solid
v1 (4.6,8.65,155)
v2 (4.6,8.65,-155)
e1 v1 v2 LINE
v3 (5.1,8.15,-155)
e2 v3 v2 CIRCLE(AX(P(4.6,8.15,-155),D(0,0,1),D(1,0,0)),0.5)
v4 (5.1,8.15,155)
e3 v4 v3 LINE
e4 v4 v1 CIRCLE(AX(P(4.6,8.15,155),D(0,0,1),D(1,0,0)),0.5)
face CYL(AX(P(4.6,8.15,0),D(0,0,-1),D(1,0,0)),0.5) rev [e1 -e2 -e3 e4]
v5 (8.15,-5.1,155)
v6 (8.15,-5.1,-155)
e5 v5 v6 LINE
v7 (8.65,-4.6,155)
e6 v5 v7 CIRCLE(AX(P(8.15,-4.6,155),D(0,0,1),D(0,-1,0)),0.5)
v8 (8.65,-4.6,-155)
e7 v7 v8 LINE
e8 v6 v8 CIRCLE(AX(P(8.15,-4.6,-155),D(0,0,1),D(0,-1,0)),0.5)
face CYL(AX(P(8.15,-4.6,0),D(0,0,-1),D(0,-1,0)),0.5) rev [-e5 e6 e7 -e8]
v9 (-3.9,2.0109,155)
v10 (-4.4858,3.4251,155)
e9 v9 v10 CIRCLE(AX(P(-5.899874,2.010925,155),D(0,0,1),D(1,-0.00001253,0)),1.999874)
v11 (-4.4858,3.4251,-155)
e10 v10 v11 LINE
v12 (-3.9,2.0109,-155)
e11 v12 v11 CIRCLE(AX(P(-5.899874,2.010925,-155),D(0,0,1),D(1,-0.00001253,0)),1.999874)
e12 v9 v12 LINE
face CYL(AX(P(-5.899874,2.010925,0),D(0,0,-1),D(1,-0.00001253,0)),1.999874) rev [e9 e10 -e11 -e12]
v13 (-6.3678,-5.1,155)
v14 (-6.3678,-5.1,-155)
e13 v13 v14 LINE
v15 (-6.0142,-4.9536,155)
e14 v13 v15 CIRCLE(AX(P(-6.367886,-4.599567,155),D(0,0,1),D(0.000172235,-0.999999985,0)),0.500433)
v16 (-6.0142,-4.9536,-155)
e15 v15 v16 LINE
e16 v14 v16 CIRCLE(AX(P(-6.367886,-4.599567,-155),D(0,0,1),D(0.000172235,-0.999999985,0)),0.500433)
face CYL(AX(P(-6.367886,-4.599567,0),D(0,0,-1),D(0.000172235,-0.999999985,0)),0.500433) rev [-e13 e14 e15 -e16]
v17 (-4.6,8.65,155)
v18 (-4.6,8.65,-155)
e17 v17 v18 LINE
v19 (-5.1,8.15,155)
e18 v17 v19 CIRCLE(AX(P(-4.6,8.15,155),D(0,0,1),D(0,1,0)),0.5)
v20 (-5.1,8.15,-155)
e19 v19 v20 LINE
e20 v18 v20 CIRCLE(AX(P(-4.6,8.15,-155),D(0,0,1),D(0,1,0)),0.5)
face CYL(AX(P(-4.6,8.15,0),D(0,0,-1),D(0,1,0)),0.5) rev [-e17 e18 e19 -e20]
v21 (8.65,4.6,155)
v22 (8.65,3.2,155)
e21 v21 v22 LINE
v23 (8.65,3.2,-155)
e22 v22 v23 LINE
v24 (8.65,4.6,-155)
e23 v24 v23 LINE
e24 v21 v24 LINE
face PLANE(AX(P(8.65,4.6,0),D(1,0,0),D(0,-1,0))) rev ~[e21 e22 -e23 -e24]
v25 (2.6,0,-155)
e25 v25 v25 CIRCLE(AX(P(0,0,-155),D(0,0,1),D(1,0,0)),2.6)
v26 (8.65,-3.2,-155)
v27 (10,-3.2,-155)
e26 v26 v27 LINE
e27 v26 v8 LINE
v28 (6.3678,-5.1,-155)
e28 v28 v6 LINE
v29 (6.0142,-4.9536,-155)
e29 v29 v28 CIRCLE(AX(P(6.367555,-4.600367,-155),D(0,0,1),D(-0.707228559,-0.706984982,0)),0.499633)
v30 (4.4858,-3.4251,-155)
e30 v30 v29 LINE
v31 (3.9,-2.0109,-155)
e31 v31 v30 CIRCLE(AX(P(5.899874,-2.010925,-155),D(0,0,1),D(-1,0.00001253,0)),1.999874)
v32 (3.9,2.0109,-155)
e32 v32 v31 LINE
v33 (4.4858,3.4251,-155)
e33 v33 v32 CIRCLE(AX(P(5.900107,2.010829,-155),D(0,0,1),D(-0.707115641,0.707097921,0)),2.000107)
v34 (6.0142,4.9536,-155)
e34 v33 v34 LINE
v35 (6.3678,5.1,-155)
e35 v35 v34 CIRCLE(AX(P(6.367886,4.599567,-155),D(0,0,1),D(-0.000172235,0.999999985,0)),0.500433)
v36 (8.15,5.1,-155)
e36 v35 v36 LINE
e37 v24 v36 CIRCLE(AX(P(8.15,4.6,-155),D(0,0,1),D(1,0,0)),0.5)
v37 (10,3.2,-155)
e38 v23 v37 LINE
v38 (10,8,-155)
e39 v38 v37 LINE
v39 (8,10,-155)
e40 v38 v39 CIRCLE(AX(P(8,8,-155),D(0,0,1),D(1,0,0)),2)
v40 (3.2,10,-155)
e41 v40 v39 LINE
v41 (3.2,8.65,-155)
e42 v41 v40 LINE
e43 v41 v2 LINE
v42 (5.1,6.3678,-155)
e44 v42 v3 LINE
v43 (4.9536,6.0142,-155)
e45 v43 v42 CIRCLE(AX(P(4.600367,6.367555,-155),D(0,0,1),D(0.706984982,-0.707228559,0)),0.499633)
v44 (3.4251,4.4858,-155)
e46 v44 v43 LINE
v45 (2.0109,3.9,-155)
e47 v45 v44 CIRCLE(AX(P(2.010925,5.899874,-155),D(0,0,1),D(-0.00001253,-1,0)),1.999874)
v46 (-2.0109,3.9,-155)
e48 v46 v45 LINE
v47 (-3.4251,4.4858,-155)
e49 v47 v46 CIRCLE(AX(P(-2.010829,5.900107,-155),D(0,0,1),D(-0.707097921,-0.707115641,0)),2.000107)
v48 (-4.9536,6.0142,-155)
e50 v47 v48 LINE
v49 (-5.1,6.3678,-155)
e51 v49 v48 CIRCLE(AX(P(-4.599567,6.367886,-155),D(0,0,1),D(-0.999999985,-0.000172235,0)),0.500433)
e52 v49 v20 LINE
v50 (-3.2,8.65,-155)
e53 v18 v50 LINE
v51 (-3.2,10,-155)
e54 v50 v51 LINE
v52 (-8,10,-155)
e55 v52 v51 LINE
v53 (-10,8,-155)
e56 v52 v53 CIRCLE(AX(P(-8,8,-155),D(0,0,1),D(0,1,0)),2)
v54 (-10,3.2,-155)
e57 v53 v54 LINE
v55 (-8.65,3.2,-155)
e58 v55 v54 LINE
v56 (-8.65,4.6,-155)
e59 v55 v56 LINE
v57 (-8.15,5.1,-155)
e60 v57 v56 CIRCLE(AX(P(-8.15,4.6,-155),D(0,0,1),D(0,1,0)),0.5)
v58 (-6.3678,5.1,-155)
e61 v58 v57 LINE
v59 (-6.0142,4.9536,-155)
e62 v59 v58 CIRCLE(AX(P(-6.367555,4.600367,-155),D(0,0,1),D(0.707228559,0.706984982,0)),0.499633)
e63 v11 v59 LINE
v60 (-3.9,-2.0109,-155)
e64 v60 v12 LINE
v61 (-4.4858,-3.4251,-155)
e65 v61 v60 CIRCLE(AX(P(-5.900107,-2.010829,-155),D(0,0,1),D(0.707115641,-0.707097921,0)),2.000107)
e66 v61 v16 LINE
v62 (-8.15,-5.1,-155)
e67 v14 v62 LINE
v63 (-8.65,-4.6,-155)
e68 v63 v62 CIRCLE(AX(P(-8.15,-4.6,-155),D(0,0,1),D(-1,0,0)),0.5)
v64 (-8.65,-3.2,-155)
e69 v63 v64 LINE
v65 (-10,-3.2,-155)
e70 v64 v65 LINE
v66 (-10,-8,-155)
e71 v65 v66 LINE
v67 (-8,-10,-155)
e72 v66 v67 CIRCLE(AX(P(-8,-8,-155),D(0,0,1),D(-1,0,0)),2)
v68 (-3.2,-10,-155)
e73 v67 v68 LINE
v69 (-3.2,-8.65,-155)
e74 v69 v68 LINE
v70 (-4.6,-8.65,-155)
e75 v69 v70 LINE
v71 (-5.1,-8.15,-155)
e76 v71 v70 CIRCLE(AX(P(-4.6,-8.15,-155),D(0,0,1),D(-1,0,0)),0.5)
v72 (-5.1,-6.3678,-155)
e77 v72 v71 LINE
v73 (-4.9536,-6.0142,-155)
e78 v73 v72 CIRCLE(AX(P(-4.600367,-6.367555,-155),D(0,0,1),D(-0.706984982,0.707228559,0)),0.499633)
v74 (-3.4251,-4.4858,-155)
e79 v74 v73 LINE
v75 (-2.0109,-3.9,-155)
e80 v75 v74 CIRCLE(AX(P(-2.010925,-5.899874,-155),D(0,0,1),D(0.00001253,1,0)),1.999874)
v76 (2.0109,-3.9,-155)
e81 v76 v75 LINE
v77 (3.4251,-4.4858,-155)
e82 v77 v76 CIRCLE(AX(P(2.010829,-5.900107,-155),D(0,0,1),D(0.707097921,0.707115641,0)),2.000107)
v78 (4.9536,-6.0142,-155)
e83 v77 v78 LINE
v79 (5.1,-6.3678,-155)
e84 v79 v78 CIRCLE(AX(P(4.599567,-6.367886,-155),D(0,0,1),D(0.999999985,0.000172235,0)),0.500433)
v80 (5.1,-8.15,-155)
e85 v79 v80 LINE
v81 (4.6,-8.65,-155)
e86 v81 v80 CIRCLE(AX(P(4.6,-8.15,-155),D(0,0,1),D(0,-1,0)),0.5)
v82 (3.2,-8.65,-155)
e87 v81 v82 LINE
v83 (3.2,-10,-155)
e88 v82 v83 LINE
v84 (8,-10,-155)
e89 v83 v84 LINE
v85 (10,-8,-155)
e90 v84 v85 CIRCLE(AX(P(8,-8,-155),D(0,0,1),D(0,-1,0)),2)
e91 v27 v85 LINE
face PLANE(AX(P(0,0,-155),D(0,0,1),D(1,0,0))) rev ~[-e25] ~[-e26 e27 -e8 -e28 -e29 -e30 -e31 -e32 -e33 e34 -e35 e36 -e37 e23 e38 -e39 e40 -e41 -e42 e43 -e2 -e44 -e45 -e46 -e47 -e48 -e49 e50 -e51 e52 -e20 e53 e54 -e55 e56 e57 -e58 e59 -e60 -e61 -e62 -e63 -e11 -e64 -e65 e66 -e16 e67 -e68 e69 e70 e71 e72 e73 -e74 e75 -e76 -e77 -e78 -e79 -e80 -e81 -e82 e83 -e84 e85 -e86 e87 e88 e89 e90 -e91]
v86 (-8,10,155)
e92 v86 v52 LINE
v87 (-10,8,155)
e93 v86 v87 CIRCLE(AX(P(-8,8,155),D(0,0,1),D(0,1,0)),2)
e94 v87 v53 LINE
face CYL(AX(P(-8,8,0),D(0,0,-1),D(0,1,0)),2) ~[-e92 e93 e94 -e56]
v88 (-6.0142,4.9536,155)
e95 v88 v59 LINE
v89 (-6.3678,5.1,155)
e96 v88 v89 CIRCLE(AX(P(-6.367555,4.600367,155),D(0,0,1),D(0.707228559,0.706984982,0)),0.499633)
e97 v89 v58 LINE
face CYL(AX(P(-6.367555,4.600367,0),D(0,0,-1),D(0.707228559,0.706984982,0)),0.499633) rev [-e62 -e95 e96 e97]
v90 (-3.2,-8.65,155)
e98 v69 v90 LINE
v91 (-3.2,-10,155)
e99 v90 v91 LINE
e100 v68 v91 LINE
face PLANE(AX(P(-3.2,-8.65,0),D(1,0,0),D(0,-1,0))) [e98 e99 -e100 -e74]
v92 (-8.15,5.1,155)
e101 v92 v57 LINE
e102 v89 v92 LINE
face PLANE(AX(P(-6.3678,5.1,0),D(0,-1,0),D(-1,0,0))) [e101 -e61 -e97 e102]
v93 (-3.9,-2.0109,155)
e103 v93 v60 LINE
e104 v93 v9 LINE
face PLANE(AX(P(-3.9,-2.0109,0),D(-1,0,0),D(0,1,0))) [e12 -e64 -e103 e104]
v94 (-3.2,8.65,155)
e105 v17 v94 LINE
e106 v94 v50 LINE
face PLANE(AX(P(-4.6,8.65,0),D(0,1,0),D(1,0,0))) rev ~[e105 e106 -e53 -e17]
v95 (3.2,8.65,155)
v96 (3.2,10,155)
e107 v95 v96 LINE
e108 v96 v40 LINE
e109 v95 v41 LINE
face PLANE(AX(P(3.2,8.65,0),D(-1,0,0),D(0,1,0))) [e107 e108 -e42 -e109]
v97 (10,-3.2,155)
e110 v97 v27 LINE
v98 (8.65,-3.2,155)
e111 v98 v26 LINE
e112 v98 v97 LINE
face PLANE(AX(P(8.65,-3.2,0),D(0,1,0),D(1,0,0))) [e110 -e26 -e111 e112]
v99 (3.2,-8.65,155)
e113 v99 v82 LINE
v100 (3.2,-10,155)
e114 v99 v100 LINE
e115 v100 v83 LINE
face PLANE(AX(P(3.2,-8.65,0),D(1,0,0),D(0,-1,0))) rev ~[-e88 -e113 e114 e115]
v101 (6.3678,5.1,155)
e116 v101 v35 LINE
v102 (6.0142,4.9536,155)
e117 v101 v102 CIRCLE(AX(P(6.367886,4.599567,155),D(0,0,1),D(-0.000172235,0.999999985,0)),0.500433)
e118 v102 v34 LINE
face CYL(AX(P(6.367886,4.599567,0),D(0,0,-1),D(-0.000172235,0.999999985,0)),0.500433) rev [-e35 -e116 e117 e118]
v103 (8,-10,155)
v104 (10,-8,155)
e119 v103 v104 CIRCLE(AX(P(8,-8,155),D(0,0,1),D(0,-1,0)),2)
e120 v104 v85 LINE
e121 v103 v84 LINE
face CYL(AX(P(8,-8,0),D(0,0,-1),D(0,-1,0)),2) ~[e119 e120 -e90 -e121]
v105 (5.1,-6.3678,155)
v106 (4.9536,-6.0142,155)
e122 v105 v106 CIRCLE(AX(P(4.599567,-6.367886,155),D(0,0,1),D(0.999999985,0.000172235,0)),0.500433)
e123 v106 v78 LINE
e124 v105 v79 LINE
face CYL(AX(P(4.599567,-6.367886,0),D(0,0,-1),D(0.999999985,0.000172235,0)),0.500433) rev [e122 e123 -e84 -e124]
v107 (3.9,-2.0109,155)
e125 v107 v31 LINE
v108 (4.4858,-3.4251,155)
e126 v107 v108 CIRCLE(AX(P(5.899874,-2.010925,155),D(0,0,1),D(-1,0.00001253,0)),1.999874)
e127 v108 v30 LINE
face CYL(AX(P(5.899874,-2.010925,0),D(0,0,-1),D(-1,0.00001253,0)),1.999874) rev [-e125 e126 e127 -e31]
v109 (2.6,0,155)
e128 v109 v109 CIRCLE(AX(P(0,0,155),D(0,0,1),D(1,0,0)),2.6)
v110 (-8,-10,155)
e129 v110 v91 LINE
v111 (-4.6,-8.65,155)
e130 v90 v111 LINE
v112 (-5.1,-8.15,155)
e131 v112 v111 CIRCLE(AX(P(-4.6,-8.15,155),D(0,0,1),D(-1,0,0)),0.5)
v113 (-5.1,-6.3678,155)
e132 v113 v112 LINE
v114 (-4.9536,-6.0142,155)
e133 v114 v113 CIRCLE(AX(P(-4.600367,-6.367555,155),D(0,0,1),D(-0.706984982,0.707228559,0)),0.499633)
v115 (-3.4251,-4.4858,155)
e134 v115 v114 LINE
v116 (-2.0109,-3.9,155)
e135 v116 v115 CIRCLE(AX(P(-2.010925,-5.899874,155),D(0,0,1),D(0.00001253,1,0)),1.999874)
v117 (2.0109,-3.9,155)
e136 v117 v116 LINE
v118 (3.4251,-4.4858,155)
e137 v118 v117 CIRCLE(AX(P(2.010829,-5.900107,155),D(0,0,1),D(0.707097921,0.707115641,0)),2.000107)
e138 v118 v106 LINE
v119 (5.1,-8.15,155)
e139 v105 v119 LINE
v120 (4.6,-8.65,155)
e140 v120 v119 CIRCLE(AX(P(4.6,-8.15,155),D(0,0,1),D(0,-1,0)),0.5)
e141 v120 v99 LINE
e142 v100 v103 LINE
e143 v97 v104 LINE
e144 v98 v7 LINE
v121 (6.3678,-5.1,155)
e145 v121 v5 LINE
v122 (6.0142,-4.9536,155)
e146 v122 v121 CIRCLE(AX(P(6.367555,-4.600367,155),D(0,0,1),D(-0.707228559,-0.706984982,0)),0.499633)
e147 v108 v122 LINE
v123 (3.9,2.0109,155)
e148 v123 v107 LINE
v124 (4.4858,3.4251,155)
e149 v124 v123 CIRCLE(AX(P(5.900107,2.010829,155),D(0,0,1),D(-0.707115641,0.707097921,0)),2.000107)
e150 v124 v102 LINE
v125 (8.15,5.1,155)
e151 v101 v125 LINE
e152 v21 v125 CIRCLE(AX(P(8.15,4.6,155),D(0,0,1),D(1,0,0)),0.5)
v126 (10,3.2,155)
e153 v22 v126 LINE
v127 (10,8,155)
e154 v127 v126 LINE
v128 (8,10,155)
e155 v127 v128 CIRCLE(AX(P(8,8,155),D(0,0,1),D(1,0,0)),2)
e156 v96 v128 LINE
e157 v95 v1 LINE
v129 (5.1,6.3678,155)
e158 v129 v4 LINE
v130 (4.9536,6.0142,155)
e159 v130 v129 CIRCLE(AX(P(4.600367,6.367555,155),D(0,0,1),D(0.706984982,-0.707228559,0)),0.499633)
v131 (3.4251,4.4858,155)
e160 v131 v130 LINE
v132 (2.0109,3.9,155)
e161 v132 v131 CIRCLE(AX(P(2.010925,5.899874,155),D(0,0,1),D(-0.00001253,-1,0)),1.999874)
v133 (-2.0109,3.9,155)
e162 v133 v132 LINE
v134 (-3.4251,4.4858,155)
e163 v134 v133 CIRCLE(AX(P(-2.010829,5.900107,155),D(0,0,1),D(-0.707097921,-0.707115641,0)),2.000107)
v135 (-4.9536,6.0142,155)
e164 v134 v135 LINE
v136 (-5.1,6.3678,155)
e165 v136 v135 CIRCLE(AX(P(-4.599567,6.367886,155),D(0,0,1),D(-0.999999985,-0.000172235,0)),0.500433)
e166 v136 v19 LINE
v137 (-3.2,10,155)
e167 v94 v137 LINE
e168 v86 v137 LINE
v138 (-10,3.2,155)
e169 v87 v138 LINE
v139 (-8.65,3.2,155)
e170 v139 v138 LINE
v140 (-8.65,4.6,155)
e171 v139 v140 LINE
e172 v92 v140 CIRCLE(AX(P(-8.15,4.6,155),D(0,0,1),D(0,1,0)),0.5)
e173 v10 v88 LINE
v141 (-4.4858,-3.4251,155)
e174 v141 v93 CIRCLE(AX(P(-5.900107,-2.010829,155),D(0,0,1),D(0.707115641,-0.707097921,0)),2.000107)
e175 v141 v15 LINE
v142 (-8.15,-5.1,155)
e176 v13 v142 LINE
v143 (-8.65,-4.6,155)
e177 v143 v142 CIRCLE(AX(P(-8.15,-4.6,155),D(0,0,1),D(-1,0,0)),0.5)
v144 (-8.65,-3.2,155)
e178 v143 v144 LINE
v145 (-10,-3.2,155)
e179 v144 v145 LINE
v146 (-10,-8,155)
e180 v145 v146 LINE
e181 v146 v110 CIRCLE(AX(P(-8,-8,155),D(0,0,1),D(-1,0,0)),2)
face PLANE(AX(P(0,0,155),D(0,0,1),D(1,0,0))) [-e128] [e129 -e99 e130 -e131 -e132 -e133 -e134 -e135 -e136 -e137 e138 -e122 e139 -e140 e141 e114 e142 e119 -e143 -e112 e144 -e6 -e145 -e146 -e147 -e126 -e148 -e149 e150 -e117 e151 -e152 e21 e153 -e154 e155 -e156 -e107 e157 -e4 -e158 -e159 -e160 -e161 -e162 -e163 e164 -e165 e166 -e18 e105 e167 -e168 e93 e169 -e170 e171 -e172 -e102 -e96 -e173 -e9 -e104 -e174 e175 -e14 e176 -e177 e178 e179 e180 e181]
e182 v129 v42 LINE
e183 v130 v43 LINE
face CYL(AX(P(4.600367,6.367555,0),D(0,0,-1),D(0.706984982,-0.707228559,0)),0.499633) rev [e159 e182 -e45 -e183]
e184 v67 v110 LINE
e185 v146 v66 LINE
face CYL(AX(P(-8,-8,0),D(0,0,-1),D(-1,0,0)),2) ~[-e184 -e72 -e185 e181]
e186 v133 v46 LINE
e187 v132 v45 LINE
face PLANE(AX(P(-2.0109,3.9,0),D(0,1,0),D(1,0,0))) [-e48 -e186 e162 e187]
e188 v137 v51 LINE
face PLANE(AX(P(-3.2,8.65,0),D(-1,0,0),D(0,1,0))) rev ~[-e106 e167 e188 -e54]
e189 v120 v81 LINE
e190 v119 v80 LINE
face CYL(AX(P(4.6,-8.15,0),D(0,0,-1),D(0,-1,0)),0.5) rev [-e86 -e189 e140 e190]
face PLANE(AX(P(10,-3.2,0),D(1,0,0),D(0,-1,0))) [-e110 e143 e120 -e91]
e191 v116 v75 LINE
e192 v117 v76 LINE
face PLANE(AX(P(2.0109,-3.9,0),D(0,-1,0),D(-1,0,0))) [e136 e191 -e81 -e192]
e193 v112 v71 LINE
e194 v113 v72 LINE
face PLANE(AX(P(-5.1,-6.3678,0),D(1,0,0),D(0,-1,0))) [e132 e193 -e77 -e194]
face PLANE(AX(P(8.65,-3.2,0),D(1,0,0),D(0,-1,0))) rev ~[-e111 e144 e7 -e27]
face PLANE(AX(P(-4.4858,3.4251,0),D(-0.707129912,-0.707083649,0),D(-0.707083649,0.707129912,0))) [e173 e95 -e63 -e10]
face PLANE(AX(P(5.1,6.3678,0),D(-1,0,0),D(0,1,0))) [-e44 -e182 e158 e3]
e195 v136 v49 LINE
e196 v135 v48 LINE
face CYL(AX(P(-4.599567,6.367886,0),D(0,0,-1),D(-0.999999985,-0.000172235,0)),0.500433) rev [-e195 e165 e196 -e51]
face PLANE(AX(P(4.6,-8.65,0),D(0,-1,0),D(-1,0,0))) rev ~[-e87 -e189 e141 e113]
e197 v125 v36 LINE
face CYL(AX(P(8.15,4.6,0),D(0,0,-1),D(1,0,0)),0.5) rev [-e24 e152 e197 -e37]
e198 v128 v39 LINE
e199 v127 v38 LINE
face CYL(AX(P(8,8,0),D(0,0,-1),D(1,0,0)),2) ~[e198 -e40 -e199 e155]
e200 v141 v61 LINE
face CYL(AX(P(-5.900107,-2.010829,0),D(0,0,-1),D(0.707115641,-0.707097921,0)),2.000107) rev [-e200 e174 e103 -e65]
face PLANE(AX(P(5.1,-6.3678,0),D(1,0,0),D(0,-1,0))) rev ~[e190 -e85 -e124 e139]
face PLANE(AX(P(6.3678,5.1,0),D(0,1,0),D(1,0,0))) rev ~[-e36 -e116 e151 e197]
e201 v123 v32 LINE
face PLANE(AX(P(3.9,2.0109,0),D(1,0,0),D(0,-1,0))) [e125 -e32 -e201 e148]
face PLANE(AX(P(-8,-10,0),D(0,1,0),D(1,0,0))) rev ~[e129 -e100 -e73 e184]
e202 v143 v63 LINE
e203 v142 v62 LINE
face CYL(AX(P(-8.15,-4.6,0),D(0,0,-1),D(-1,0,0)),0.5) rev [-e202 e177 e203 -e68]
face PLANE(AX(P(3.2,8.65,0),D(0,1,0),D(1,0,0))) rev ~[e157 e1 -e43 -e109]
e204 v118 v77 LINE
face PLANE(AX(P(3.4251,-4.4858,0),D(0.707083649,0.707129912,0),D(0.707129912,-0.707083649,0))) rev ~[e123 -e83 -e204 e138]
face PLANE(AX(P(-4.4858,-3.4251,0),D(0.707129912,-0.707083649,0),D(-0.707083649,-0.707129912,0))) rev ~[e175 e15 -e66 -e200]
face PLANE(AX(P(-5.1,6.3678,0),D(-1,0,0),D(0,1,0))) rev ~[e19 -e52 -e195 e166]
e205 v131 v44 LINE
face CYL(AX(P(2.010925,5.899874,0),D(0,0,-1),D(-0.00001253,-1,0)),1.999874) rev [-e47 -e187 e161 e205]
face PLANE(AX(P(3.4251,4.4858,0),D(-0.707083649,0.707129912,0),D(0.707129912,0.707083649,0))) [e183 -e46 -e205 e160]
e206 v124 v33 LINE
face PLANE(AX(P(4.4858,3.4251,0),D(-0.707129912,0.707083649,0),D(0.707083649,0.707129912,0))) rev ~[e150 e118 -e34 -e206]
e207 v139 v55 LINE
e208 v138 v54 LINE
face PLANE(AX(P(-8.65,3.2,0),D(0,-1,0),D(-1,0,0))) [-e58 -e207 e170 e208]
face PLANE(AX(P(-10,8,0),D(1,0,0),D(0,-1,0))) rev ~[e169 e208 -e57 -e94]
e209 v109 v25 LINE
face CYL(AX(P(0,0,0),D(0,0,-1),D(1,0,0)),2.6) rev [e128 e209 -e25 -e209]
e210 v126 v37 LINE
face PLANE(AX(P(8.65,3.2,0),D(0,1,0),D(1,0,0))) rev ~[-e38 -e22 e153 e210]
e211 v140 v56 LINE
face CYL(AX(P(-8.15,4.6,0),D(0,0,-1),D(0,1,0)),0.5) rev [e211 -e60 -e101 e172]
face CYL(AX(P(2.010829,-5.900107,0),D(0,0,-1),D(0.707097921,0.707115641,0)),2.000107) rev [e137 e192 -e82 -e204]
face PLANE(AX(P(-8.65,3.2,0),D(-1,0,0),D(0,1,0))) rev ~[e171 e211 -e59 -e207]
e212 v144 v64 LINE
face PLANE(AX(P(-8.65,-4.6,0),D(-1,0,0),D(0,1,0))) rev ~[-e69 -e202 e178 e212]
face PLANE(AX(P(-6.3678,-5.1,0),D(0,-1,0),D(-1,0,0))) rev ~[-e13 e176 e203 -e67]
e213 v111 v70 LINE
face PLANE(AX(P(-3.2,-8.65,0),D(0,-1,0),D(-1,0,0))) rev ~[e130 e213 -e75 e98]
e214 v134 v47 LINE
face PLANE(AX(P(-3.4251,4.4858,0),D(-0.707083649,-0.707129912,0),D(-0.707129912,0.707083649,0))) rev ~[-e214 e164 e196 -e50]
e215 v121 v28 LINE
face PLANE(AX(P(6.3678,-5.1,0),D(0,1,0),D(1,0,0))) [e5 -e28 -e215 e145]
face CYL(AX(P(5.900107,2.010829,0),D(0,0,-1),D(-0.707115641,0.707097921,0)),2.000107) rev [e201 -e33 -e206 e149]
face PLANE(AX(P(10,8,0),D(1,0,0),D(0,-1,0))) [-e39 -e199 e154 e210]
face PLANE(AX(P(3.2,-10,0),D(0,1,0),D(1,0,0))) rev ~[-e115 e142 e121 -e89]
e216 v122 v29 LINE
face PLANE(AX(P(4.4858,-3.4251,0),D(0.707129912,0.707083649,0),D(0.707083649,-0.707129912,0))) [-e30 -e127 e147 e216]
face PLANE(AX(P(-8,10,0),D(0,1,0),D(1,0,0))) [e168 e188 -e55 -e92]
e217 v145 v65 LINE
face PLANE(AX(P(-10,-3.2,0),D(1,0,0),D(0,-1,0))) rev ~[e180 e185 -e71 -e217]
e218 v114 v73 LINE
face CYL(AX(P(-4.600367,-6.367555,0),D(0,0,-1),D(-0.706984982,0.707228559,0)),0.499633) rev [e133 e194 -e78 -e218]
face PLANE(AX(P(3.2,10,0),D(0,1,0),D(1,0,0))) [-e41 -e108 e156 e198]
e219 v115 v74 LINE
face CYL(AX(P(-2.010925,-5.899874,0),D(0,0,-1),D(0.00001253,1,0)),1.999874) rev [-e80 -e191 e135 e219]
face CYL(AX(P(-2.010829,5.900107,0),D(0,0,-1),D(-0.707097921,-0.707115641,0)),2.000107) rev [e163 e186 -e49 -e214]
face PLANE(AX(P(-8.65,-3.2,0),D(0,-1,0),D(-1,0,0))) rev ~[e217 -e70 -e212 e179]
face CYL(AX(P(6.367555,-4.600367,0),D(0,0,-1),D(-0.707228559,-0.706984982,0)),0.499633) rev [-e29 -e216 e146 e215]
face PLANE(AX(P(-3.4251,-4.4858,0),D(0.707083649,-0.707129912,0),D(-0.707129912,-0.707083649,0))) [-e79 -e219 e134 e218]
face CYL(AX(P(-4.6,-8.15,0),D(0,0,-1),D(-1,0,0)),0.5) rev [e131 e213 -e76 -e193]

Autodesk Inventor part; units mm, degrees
ref_plane "YZ Plane" through (0, 0, 0) normal (1, 0, 0) x (0, 1, 0)
ref_plane "XZ Plane" through (0, 0, 0) normal (0, 1, 0) x (-1, 0, 0)
ref_plane "XY Plane" through (0, 0, 0) normal (0, 0, 1) x (1, 0, 0)
sketch "Sketch1" plane through (0, 0, 0) normal (0, 0, 1) x (1, 0, 0)
  line L0 (-8, -10) -> (-3.2, -10)
  arc A0 (-10, -8) -> (-8, -10) centre (-8, -8) ccw
  line L1 (3.2, -10) -> (8, -10)
  line L2 (-8, 10) -> (-3.2, 10)
  line L3 (3.2, 10) -> (8, 10)
  line L4 (-10, 8) -> (-10, 3.2)
  arc A1 (-8, 10) -> (-10, 8) centre (-8, 8) ccw
  line L5 (-10, -3.2) -> (-10, -8)
  line L6 (10, 8) -> (10, 3.2)
  arc A2 (10, 8) -> (8, 10) centre (8, 8) ccw
  line L7 (10, -3.2) -> (10, -8)
  arc A3 (8, -10) -> (10, -8) centre (8, -8) ccw
  circle A4 centre (0, 0) radius 2.6
  line L8 (8.65, 4.6) -> (8.65, 3.2)
  line L9 (8.65, -3.2) -> (8.65, -4.6)
  arc A5 (8.15, -5.1) -> (8.65, -4.6) centre (8.15, -4.6) ccw
  arc A6 (8.65, 4.6) -> (8.15, 5.1) centre (8.15, 4.6) ccw
  line L10 (3.9, 2.0109) -> (3.9, -2.0109)
  arc A7 (4.4858, 3.4251) -> (3.9, 2.0109) centre (5.9, 2.0109) ccw
  line L11 (8.65, 3.2) -> (10, 3.2)
  line L12 (8.65, -3.2) -> (10, -3.2)
  line L13 (6.3678, -5.1) -> (8.15, -5.1)
  arc A8 (6.0142, -4.9536) -> (6.3678, -5.1) centre (6.3678, -4.6) ccw
  line L14 (6.3678, 5.1) -> (8.15, 5.1)
  arc A9 (6.3678, 5.1) -> (6.0142, 4.9536) centre (6.3678, 4.6) ccw
  line L15 (4.4858, 3.4251) -> (6.0142, 4.9536)
  line L16 (4.4858, -3.4251) -> (6.0142, -4.9536)
  arc A10 (3.9, -2.0109) -> (4.4858, -3.4251) centre (5.9, -2.0109) ccw
  line L17 (-4.6, 8.65) -> (-3.2, 8.65)
  line L18 (3.2, 8.65) -> (4.6, 8.65)
  arc A11 (5.1, 8.15) -> (4.6, 8.65) centre (4.6, 8.15) ccw
  arc A12 (-4.6, 8.65) -> (-5.1, 8.15) centre (-4.6, 8.15) ccw
  line L19 (-2.0109, 3.9) -> (2.0109, 3.9)
  arc A13 (-3.4251, 4.4858) -> (-2.0109, 3.9) centre (-2.0109, 5.9) ccw
  line L20 (-3.2, 8.65) -> (-3.2, 10)
  line L21 (3.2, 8.65) -> (3.2, 10)
  line L22 (5.1, 6.3678) -> (5.1, 8.15)
  arc A14 (4.9536, 6.0142) -> (5.1, 6.3678) centre (4.6, 6.3678) ccw
  line L23 (-5.1, 6.3678) -> (-5.1, 8.15)
  arc A15 (-5.1, 6.3678) -> (-4.9536, 6.0142) centre (-4.6, 6.3678) ccw
  line L24 (-3.4251, 4.4858) -> (-4.9536, 6.0142)
  line L25 (3.4251, 4.4858) -> (4.9536, 6.0142)
  arc A16 (2.0109, 3.9) -> (3.4251, 4.4858) centre (2.0109, 5.9) ccw
  line L26 (-8.65, -4.6) -> (-8.65, -3.2)
  line L27 (-8.65, 3.2) -> (-8.65, 4.6)
  arc A17 (-8.15, 5.1) -> (-8.65, 4.6) centre (-8.15, 4.6) ccw
  arc A18 (-8.65, -4.6) -> (-8.15, -5.1) centre (-8.15, -4.6) ccw
  line L28 (-3.9, -2.0109) -> (-3.9, 2.0109)
  arc A19 (-4.4858, -3.4251) -> (-3.9, -2.0109) centre (-5.9, -2.0109) ccw
  line L29 (-8.65, -3.2) -> (-10, -3.2)
  line L30 (-8.65, 3.2) -> (-10, 3.2)
  line L31 (-6.3678, 5.1) -> (-8.15, 5.1)
  arc A20 (-6.0142, 4.9536) -> (-6.3678, 5.1) centre (-6.3678, 4.6) ccw
  line L32 (-6.3678, -5.1) -> (-8.15, -5.1)
  arc A21 (-6.3678, -5.1) -> (-6.0142, -4.9536) centre (-6.3678, -4.6) ccw
  line L33 (-4.4858, -3.4251) -> (-6.0142, -4.9536)
  line L34 (-4.4858, 3.4251) -> (-6.0142, 4.9536)
  arc A22 (-3.9, 2.0109) -> (-4.4858, 3.4251) centre (-5.9, 2.0109) ccw
  line L35 (4.6, -8.65) -> (3.2, -8.65)
  line L36 (-3.2, -8.65) -> (-4.6, -8.65)
  arc A23 (-5.1, -8.15) -> (-4.6, -8.65) centre (-4.6, -8.15) ccw
  arc A24 (4.6, -8.65) -> (5.1, -8.15) centre (4.6, -8.15) ccw
  line L37 (2.0109, -3.9) -> (-2.0109, -3.9)
  arc A25 (3.4251, -4.4858) -> (2.0109, -3.9) centre (2.0109, -5.9) ccw
  line L38 (3.2, -8.65) -> (3.2, -10)
  line L39 (-3.2, -8.65) -> (-3.2, -10)
  line L40 (-5.1, -6.3678) -> (-5.1, -8.15)
  arc A26 (-4.9536, -6.0142) -> (-5.1, -6.3678) centre (-4.6, -6.3678) ccw
  line L41 (5.1, -6.3678) -> (5.1, -8.15)
  arc A27 (5.1, -6.3678) -> (4.9536, -6.0142) centre (4.6, -6.3678) ccw
  line L42 (3.4251, -4.4858) -> (4.9536, -6.0142)
  line L43 (-3.4251, -4.4858) -> (-4.9536, -6.0142)
  arc A28 (-2.0109, -3.9) -> (-3.4251, -4.4858) centre (-2.0109, -5.9) ccw
  dimension "d0" = 0.5
  dimension "d1" = 2
  dimension "d2" = 5.2
  dimension "d3" = 45
  dimension "d4" = 45
  dimension "d5" = 45
  dimension "d6" = 90
  dimension "d7" = 90
  dimension "d8" = 45
  dimension "d9" = 45
  dimension "d10" = 90
  dimension "d11" = 90
  dimension "d12" = 90
  dimension "d13" = 90
  dimension "d14" = 90
  dimension "d15" = 90
  dimension "d16" = 90
  dimension "d17" = 90
  dimension "d18" = 90
  dimension "d19" = 90
  dimension "d20" = 90
  dimension "d21" = 90
  dimension "d22" = 90
  dimension "d23" = 90
  dimension "d24" = 1.35
  dimension "d25" = 4.9
  dimension "d26" = 6.1
  dimension "d27" = 6.8
  dimension "d28" = 13.2
  dimension "d29" = 13.9
  dimension "d30" = 15.1
  dimension "d31" = 18.65
  dimension "d32" = 20
  dimension "d33" = 6.4
  dimension "d34" = 1.9
  dimension "d35" = 8.3
  dimension "d36" = 6.8
  dimension "d37" = 13.2
  dimension "d38" = 5.45
  dimension "d39" = 11.85
  dimension "d40" = 0.7
  dimension "d41" = 7.1
  dimension "d42" = 1.5
  dimension "d43" = 1.5
  dimension "d44" = 10
  dimension "d45" = 10
  dimension "d46" = 3.2
  dimension "d47" = 8.65
  dimension "d48" = 0.75
  dimension "d49" = 0.75
  dimension "d50" = 5.1
  dimension "d51" = 0.75
  dimension "d52" = 3.2
  dimension "d53" = 3.2
  dimension "d54" = 8.65
  dimension "d55" = 8.65
  dimension "d56" = 0.75
  dimension "d57" = 0.75
  dimension "d58" = 5.1
  dimension "d59" = 0.75
  dimension "d60" = 10
  dimension "d61" = 10
  dimension "d62" = 5.1
  dimension "d63" = 5.1
extrude "Extrusion1" add sketch "Sketch1" along normal mid plane 310
equation "\"d70\" = bed_frame_depth"
equation "\"platform_width\" = 214"
equation "\"platform_depth\" = 214"
equation "\"bed_frame_depth\" = 310"
equation "\"bed_cl_y_offset\" = 173.25"
properties part number "2020 Extrusion - Bed sides" material "Aluminum 6061"
